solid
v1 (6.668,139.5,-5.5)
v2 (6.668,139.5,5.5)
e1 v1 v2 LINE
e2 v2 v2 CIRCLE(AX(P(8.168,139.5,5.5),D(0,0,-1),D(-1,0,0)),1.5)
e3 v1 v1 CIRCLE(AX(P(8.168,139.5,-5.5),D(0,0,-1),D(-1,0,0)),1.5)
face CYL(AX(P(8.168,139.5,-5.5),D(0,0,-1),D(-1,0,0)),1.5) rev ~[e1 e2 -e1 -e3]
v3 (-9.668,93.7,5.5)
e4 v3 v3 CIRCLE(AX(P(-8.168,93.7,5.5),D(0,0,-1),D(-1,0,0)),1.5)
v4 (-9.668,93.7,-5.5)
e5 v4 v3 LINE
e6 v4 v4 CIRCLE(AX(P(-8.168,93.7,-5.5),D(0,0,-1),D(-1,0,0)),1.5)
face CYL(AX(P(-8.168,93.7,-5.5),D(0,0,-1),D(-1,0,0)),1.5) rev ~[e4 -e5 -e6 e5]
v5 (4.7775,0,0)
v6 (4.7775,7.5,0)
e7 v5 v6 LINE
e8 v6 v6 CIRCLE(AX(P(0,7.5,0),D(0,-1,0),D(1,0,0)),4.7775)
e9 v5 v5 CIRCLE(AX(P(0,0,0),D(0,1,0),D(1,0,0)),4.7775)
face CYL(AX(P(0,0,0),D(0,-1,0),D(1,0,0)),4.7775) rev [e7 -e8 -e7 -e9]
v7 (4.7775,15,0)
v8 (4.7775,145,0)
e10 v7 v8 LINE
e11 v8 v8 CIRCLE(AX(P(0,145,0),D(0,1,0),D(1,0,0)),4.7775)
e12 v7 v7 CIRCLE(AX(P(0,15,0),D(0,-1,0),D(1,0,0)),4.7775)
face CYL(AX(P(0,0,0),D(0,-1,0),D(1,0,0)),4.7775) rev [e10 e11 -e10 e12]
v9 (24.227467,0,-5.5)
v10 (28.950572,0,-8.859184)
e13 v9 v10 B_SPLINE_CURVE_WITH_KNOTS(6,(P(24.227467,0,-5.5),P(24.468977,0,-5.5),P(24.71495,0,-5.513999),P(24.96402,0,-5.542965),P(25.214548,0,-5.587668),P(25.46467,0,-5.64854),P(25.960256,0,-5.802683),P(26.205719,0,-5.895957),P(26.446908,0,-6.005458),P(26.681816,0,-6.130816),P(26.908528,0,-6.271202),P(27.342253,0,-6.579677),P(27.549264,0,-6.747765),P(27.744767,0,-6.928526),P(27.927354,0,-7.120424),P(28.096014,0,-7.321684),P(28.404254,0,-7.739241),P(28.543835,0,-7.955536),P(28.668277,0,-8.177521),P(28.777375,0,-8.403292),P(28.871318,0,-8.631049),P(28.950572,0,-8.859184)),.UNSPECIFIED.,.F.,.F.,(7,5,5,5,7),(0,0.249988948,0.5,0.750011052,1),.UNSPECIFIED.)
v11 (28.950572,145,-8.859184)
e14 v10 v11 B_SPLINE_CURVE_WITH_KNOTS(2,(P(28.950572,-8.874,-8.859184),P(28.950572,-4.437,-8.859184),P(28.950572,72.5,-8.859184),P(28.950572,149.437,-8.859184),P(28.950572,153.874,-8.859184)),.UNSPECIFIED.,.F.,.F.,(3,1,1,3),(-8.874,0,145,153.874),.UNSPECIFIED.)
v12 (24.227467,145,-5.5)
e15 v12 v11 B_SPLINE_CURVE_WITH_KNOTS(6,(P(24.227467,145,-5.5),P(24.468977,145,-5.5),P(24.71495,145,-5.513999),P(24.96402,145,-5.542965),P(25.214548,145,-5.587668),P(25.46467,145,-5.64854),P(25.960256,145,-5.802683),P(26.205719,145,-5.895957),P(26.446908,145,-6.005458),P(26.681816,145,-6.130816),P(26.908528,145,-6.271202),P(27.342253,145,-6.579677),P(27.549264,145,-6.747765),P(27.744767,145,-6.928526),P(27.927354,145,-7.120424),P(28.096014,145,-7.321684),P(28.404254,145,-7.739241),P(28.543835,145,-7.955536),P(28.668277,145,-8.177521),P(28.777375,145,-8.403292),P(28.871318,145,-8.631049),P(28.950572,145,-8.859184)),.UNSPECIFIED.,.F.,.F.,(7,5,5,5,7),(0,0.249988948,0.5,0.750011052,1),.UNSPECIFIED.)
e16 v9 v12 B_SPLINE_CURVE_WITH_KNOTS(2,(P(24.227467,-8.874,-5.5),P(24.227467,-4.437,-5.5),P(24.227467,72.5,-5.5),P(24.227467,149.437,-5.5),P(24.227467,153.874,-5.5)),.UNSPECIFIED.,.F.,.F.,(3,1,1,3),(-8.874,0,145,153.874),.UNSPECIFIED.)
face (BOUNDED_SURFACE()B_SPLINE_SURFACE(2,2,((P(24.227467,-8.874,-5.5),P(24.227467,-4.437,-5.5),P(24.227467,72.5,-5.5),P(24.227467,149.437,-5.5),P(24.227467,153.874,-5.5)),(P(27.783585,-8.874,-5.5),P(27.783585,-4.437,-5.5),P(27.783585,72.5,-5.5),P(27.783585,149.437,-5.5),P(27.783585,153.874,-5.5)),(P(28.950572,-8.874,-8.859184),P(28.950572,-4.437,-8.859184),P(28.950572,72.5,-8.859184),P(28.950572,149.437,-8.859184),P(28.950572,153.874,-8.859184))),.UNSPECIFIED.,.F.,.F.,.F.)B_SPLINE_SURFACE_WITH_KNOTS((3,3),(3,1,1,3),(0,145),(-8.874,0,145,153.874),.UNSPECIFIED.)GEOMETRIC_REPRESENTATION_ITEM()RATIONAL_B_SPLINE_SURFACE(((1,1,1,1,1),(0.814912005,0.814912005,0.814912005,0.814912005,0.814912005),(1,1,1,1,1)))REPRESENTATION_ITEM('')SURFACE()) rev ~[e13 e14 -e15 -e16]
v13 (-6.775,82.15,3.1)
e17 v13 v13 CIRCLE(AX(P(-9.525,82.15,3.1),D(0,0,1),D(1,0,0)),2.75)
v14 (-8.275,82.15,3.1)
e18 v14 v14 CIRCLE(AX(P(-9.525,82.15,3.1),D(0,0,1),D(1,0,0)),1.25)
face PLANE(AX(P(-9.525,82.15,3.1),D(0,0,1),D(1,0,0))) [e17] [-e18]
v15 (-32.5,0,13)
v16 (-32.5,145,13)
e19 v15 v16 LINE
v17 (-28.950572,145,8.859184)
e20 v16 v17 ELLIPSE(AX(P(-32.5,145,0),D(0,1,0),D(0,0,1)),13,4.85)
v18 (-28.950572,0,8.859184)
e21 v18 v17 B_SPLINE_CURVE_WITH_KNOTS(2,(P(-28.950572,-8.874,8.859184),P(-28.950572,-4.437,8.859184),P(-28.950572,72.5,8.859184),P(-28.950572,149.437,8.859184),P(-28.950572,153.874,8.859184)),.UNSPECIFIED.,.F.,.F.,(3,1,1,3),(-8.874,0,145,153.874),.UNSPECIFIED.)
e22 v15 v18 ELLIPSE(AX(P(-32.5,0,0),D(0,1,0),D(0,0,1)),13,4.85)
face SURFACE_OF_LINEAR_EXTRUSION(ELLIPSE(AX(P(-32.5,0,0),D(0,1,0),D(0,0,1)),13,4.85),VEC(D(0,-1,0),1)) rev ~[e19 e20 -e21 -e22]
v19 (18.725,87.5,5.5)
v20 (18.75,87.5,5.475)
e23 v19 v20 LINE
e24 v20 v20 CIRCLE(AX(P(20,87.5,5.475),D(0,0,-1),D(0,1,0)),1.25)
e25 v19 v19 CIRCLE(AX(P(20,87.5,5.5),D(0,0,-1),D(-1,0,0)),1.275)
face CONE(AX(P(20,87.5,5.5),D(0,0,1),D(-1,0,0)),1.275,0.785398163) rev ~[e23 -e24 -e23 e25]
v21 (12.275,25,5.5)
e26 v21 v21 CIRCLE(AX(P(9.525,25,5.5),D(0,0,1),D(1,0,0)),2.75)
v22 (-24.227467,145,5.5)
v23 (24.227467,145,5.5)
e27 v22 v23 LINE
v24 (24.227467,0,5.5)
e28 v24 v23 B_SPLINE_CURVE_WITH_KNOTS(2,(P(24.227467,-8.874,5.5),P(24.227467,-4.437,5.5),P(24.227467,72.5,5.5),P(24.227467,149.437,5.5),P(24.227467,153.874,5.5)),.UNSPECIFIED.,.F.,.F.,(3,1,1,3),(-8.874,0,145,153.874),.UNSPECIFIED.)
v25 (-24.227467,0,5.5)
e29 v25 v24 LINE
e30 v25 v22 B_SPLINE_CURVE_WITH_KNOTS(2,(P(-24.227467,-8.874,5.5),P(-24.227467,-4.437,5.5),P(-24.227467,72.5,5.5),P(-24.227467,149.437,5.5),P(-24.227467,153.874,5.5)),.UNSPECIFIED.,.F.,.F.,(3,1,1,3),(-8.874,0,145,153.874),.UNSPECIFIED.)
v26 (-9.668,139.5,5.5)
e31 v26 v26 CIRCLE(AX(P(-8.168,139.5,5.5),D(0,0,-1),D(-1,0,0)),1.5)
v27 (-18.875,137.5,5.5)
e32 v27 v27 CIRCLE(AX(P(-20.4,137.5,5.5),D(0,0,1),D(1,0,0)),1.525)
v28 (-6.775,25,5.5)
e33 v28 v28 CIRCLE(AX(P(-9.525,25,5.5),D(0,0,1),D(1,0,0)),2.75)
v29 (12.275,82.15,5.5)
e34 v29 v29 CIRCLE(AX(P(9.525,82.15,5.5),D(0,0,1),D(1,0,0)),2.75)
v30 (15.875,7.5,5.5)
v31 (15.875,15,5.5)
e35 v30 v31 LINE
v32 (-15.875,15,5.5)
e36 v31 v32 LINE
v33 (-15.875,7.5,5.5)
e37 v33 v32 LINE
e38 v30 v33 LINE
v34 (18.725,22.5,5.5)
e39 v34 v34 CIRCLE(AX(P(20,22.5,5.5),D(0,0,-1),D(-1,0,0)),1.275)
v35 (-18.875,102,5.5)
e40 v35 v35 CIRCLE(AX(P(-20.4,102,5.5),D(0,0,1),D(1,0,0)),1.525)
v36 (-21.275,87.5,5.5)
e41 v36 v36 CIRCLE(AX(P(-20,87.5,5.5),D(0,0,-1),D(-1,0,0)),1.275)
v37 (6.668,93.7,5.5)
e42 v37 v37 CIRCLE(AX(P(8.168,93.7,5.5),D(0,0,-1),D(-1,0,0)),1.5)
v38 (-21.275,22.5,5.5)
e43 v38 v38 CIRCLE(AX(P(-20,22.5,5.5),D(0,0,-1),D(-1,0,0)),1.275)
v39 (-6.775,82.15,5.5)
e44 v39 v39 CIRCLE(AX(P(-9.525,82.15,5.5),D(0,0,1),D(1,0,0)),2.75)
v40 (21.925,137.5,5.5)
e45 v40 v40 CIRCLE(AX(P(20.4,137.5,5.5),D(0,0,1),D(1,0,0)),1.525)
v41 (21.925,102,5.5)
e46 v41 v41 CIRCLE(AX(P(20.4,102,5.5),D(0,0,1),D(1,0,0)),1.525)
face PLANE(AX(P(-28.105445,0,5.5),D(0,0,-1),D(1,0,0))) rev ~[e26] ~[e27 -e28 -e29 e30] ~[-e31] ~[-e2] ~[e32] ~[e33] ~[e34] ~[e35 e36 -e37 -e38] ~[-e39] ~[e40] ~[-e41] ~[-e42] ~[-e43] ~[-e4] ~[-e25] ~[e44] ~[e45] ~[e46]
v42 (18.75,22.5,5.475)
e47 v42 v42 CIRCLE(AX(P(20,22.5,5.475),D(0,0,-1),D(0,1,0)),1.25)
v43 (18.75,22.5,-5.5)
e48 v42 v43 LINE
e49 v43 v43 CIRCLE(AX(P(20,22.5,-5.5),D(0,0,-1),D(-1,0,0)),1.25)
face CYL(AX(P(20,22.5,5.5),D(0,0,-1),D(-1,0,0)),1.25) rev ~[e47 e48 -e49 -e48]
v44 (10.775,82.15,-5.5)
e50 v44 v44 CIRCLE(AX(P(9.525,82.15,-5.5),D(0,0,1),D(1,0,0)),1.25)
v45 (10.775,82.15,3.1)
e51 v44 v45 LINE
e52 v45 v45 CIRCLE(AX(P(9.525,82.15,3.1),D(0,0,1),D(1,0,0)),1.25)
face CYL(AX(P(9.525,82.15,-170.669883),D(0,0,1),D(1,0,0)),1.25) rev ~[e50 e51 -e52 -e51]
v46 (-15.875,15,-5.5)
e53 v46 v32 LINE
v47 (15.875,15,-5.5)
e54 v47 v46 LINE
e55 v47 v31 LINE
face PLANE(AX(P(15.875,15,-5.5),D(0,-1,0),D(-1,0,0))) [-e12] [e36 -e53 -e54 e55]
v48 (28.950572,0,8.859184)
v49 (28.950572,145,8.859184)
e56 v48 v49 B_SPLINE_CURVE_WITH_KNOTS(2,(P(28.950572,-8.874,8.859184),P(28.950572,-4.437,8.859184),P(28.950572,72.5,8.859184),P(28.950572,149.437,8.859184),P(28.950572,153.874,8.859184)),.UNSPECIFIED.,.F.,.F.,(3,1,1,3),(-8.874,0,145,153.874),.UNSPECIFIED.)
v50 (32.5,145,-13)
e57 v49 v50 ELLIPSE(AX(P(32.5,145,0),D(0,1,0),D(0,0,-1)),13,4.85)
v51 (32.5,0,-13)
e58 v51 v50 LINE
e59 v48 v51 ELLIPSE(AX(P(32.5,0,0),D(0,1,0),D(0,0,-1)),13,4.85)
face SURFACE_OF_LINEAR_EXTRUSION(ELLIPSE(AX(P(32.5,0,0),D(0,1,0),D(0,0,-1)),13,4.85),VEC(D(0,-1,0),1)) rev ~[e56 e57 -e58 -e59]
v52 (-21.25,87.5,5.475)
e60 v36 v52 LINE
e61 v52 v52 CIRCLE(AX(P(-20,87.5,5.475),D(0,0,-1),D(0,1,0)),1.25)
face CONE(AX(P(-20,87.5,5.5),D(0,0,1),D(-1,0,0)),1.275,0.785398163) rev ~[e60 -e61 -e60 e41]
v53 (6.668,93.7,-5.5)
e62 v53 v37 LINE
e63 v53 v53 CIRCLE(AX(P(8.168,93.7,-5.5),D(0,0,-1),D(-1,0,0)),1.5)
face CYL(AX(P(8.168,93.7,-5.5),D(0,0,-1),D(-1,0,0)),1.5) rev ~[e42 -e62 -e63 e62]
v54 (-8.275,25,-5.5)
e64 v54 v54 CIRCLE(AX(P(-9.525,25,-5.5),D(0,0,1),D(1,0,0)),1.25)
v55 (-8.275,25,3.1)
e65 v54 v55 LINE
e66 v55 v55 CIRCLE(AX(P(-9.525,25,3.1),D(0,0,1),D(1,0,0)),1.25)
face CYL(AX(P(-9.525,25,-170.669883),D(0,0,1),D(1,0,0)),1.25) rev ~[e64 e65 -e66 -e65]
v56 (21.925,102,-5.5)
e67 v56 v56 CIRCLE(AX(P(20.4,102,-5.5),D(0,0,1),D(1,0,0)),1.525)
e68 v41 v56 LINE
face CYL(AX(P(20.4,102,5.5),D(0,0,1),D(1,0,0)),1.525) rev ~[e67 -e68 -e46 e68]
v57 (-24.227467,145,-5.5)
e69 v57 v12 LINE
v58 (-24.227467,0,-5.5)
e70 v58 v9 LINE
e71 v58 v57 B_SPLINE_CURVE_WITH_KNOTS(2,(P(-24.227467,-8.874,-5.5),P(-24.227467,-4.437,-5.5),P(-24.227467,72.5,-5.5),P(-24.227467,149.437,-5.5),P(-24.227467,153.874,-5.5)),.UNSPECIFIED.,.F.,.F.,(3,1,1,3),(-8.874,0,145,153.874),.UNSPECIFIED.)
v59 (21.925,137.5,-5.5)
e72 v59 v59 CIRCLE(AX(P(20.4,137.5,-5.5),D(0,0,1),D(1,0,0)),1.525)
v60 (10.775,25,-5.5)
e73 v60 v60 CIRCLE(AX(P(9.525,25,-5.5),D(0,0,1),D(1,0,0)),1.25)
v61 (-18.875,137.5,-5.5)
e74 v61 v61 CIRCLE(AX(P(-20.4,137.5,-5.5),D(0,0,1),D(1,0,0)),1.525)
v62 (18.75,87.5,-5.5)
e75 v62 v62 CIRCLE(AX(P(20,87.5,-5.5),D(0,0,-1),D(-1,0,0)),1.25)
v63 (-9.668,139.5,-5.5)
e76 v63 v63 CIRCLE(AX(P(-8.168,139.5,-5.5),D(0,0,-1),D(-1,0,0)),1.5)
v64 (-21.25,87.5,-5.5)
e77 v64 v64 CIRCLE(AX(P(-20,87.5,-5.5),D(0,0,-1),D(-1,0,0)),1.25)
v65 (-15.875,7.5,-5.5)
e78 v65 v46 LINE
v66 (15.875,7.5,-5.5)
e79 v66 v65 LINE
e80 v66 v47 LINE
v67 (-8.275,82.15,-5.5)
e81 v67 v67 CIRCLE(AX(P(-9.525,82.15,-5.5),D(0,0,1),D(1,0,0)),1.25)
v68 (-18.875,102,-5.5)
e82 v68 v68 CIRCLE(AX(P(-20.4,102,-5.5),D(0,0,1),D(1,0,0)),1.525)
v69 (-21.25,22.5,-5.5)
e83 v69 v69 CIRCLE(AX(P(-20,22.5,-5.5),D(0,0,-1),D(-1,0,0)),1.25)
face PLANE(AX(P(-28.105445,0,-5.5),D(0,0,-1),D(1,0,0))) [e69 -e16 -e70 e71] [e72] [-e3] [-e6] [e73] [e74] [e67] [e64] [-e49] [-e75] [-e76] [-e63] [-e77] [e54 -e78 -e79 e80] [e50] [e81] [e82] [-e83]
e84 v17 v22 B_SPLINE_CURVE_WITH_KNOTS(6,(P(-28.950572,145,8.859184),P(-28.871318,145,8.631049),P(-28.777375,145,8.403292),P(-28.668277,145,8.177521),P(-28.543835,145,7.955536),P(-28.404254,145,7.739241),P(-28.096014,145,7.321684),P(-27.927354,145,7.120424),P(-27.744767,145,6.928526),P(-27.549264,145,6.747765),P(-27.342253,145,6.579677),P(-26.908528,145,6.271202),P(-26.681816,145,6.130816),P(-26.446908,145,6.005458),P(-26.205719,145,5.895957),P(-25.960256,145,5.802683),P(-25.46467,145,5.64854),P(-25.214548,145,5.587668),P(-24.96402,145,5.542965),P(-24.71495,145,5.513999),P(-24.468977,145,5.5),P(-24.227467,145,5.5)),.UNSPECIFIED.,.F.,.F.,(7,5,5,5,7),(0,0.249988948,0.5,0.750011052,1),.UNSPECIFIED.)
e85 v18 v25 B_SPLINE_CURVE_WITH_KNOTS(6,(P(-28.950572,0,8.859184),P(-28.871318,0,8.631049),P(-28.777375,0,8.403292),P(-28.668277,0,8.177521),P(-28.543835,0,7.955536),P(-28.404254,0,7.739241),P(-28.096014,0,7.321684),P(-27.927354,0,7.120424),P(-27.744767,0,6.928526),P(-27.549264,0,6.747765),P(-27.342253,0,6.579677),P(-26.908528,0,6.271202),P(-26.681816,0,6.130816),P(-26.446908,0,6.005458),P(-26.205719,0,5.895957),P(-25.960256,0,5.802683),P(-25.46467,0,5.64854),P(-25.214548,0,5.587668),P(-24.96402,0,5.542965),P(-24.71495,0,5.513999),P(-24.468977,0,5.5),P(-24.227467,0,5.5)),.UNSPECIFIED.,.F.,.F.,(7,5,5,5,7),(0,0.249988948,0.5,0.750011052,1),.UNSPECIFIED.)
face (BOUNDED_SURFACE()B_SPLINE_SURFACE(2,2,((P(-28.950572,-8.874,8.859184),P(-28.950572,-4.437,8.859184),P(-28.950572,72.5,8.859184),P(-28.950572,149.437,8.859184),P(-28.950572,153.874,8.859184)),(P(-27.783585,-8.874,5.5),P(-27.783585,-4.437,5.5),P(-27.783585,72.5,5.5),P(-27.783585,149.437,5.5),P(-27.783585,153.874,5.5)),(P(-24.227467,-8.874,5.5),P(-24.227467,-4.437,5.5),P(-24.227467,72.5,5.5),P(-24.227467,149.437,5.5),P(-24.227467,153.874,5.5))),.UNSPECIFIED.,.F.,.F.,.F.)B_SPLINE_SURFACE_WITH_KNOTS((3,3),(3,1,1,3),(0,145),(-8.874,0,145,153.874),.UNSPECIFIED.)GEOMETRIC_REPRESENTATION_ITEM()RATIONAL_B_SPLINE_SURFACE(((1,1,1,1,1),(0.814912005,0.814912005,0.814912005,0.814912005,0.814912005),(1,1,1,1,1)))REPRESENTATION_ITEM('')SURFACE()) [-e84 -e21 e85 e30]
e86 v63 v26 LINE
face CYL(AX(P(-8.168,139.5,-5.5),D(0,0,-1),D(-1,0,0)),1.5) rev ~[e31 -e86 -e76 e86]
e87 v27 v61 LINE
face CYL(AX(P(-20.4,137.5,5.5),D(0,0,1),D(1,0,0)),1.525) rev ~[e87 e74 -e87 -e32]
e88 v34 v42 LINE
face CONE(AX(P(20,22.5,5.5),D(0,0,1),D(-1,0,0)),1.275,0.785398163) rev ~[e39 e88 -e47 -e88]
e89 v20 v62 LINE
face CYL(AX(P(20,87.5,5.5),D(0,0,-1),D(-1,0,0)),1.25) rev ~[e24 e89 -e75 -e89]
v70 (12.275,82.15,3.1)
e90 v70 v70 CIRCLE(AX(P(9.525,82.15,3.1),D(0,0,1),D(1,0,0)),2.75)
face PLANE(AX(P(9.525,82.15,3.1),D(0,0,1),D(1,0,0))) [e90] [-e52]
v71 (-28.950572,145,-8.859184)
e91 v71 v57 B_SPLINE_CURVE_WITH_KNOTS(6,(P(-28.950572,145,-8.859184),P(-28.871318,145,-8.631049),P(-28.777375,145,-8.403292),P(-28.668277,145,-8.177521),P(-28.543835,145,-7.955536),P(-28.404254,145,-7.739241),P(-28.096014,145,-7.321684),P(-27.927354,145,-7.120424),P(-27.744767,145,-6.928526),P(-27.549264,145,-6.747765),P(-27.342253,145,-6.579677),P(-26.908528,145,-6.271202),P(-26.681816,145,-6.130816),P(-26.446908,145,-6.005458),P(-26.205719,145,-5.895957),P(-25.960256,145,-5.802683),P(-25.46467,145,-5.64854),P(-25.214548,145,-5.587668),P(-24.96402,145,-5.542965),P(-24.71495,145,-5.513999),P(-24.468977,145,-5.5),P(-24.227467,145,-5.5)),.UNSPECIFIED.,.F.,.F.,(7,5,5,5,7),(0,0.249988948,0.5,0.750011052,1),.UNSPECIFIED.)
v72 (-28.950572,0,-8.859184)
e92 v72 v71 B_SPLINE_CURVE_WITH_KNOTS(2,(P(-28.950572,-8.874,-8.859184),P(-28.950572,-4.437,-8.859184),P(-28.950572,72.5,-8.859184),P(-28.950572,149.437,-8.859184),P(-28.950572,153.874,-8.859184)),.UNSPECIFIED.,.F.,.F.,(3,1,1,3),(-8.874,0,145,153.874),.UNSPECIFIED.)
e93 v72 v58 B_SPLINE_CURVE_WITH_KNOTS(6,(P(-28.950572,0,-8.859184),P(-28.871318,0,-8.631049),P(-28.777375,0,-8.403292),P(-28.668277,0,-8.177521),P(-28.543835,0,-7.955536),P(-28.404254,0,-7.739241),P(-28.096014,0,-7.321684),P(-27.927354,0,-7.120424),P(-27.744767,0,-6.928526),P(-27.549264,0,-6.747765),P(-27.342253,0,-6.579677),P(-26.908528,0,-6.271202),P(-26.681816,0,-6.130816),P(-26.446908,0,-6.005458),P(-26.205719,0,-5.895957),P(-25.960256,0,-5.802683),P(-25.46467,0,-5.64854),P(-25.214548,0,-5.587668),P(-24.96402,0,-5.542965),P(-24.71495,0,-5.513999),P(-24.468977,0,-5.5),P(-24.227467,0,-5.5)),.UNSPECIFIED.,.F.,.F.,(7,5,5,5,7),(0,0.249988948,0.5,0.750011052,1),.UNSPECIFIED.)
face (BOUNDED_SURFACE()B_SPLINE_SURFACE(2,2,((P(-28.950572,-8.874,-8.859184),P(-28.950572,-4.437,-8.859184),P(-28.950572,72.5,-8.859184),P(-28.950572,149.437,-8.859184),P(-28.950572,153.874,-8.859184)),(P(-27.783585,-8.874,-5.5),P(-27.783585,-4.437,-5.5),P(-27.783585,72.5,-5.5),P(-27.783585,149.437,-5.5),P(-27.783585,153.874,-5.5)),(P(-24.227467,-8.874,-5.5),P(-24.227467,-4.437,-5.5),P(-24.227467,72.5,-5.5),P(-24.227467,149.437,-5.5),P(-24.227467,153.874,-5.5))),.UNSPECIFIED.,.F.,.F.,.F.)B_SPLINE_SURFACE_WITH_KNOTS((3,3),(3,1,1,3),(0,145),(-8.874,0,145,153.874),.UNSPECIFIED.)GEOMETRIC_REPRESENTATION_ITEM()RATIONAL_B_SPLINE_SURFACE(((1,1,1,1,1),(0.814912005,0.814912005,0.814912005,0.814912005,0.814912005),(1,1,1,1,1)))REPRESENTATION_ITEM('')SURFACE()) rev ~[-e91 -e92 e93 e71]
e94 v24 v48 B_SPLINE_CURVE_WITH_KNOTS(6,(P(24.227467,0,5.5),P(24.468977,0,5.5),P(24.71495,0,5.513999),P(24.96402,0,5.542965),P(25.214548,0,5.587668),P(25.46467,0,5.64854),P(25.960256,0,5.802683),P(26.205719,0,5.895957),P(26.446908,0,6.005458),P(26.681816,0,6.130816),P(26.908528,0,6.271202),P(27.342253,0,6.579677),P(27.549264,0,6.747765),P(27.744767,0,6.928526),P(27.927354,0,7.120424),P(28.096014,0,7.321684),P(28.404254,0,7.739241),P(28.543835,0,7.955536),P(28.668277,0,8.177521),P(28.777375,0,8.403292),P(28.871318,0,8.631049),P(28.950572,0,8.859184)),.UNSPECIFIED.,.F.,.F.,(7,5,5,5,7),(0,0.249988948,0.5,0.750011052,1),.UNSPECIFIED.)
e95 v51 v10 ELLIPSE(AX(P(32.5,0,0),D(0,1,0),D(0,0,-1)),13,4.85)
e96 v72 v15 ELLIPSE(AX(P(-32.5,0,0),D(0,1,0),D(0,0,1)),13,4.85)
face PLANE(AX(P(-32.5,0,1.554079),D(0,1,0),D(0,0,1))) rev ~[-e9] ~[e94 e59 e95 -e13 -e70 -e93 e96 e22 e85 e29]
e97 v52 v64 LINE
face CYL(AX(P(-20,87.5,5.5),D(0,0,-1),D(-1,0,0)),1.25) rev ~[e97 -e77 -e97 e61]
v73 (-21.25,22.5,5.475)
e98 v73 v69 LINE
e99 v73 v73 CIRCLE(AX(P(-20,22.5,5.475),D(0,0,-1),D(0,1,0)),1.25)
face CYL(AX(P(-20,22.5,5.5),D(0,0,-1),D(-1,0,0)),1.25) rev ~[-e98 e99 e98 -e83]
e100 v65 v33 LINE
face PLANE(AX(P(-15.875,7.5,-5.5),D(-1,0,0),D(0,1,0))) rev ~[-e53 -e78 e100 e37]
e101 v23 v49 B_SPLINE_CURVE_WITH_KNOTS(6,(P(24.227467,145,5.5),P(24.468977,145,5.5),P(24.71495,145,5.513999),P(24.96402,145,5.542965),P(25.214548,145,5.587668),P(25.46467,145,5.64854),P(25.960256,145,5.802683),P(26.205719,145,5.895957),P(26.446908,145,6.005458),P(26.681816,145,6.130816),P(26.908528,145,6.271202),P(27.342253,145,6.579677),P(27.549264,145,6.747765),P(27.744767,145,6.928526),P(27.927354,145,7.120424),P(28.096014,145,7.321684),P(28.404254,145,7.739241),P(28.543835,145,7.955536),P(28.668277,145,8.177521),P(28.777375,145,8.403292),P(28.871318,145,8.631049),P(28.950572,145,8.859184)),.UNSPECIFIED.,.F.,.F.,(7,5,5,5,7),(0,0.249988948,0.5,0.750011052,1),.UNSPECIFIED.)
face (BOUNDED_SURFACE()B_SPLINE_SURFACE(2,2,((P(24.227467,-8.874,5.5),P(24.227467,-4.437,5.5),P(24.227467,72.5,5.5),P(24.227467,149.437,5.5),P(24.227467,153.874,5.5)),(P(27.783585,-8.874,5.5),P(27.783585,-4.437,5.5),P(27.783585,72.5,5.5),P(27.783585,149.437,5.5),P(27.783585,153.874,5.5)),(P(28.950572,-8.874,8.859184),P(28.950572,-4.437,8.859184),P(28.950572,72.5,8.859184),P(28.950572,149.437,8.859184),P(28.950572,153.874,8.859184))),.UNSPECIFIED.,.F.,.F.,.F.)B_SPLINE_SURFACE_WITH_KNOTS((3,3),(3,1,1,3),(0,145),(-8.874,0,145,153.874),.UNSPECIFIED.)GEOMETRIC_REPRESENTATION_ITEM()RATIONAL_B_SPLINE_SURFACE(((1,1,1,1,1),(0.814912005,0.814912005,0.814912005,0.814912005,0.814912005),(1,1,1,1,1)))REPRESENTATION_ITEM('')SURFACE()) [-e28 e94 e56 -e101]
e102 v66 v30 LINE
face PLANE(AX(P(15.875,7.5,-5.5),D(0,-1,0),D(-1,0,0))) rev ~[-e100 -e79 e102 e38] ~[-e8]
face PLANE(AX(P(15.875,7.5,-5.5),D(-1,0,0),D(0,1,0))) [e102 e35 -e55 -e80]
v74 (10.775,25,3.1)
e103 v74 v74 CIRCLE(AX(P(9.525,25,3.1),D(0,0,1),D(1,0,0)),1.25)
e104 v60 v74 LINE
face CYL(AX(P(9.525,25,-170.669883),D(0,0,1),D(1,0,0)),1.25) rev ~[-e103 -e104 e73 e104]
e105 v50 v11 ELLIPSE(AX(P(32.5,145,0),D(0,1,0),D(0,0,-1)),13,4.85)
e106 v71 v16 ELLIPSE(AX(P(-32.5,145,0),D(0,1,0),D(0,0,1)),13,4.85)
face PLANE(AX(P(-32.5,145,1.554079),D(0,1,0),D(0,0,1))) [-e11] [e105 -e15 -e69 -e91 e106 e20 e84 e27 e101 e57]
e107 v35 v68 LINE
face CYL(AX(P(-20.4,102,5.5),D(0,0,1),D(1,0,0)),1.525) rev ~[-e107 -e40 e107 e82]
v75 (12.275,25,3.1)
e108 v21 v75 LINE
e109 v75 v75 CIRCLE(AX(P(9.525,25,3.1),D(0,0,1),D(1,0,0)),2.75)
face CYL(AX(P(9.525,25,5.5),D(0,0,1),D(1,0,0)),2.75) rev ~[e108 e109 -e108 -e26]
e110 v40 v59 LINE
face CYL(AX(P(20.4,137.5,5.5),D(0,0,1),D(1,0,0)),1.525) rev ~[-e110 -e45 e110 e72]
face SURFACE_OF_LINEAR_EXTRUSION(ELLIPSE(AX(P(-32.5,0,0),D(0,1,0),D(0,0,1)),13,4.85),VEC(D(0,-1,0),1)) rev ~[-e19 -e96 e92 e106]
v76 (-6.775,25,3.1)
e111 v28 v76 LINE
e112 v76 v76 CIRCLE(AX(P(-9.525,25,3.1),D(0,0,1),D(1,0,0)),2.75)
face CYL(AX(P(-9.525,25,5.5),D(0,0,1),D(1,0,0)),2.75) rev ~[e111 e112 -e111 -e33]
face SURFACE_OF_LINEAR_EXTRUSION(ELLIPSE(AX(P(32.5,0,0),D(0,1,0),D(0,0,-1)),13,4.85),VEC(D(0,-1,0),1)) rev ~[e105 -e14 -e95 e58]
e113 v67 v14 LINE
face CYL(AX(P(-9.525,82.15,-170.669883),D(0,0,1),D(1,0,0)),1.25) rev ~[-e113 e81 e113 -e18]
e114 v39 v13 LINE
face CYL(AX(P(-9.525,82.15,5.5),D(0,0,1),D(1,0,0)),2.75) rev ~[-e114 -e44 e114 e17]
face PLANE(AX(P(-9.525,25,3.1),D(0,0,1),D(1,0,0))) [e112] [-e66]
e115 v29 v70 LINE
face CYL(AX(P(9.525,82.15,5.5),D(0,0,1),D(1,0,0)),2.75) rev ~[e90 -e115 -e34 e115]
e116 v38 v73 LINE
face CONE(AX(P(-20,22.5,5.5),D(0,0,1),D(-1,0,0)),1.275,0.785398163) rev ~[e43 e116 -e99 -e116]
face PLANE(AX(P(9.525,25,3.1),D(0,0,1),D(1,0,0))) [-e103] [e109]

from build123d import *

# Parameters (mm, degrees)
SKETCH1_RX                        = 13
SKETCH1_RY                        = 4.85
SKETCH1_W                         = 65
SKETCH1_H                         = 11
SKETCH1_R                         = 4.7775
BOSS_EXTRUDE1_DEPTH               = 145
FILLET1_R                         = 5
SKETCH3_W                         = 31.75
SKETCH3_H                         = 7.5
CUT_EXTRUDE2_DEPTH                = 8.5000001
CUT_EXTRUDE2_DEPTH_BACK           = 19.5000001
TAP_DRILL_FOR_M3X0_5_TAP1_D       = 2.5
SKETCH6_R                         = 2.75
CUT_EXTRUDE4_DEPTH                = 2.4
TAP_DRILL_FOR_M3_TAP1_D           = 2.5
TAP_DRILL_FOR_M3_TAP1_CSINK_D     = 2.55
TAP_DRILL_FOR_M3_TAP1_CSINK_ANGLE = 90
SKETCH9_R                         = 1.5
CUT_EXTRUDE5_DEPTH                = 19.5000001
CUT_EXTRUDE6_REACH                = 20.5
SKETCH5_R                         = 1.525


with BuildPart() as part:
    # Sketch1 → Boss-Extrude1 (new body)
    with BuildSketch(Plane(origin=(0, 0, 0), x_dir=(1, 0, 0), z_dir=(0, 1, 0))):
        with Locations(Location((-32.5, 0), (0, 0, -90))):
            Ellipse(SKETCH1_RX, SKETCH1_RY)
        with Locations(Location((32.5, 0), (0, 0, 90))):
            Ellipse(SKETCH1_RX, SKETCH1_RY)
        Rectangle(SKETCH1_W, SKETCH1_H)
        Circle(SKETCH1_R, mode=Mode.SUBTRACT)
    extrude(amount=BOSS_EXTRUDE1_DEPTH)

    # Fillet1
    fillet1_edges = [part.edges().sort_by_distance(p)[0] for p in [
        (-28.105445223, 72.5, -5.5),
        (28.105445223, 72.5, -5.5),
        (28.105445223, 72.5, 5.5),
        (-28.105445223, 72.5, 5.5),
    ]]
    fillet(fillet1_edges, radius=FILLET1_R)

    # Sketch3 → Cut-Extrude2 (cut, two sides)
    with BuildSketch(Plane(origin=(0, 0, -5.5), x_dir=(-1, 0, 0), z_dir=(0, 0, -1))) as cut_extrude2_sk:
        with Locations((0, 11.25)):
            Rectangle(SKETCH3_W, SKETCH3_H)
    extrude(amount=CUT_EXTRUDE2_DEPTH, mode=Mode.SUBTRACT)
    extrude(cut_extrude2_sk.sketch, amount=-CUT_EXTRUDE2_DEPTH_BACK, mode=Mode.SUBTRACT)

    # Tap Drill for M3x0.5 Tap1 (through all)
    with Locations(Plane(origin=(9.525, 82.15, -5.5), x_dir=(-1, 0, 0), z_dir=(0, 0, -1))):
        with Locations((0, 0), (19.05, 0), (19.05, -57.15), (0, -57.15)):
            Hole(TAP_DRILL_FOR_M3X0_5_TAP1_D / 2)

    # Sketch6 → Cut-Extrude4 (cut)
    with BuildSketch(Plane.XY.offset(5.5)):
        with Locations((9.525, 82.15)):
            Circle(SKETCH6_R)
        with Locations((-9.525, 82.15)):
            Circle(SKETCH6_R)
        with Locations((9.525, 25)):
            Circle(SKETCH6_R)
        with Locations((-9.525, 25)):
            Circle(SKETCH6_R)
    extrude(amount=-CUT_EXTRUDE4_DEPTH, mode=Mode.SUBTRACT)

    # Tap Drill for M3 Tap1 (through all)
    with Locations(Plane.XY.offset(5.5)):
        with Locations((-20, 87.5), (20, 87.5), (20, 22.5), (-20, 22.5)):
            CounterSinkHole(TAP_DRILL_FOR_M3_TAP1_D / 2, TAP_DRILL_FOR_M3_TAP1_CSINK_D / 2, counter_sink_angle=TAP_DRILL_FOR_M3_TAP1_CSINK_ANGLE)

    # Sketch9 → Cut-Extrude5 (cut, through all)
    with BuildSketch(Plane(origin=(0, 0, -5.5), x_dir=(-1, 0, 0), z_dir=(0, 0, -1))):
        with Locations((-8.168, 139.5)):
            Circle(SKETCH9_R)
        with Locations((8.168, 139.5)):
            Circle(SKETCH9_R)
        with Locations((8.168, 93.7)):
            Circle(SKETCH9_R)
        with Locations((-8.168, 93.7)):
            Circle(SKETCH9_R)
    extrude(amount=-CUT_EXTRUDE5_DEPTH, mode=Mode.SUBTRACT)

    # Sketch5 → Cut-Extrude6 (cut, up to next)
    with BuildSketch(Plane.XY.offset(5.5), mode=Mode.PRIVATE) as cut_extrude6_sk1:
        with Locations((20.4, 102)):
            Circle(SKETCH5_R)
    cut_extrude6_tool1 = extrude(cut_extrude6_sk1.sketch, amount=-CUT_EXTRUDE6_REACH, mode=Mode.PRIVATE) & part.part
    add(cut_extrude6_tool1.solids().sort_by_distance((20.4, 102, 5.5))[0], mode=Mode.SUBTRACT)
    # Sketch5 → Cut-Extrude6 (cut, up to next)
    with BuildSketch(Plane.XY.offset(5.5), mode=Mode.PRIVATE) as cut_extrude6_sk2:
        with Locations((-20.4, 102)):
            Circle(SKETCH5_R)
    cut_extrude6_tool2 = extrude(cut_extrude6_sk2.sketch, amount=-CUT_EXTRUDE6_REACH, mode=Mode.PRIVATE) & part.part
    add(cut_extrude6_tool2.solids().sort_by_distance((-20.4, 102, 5.5))[0], mode=Mode.SUBTRACT)
    # Sketch5 → Cut-Extrude6 (cut, up to next)
    with BuildSketch(Plane.XY.offset(5.5), mode=Mode.PRIVATE) as cut_extrude6_sk3:
        with Locations((20.4, 137.5)):
            Circle(SKETCH5_R)
    cut_extrude6_tool3 = extrude(cut_extrude6_sk3.sketch, amount=-CUT_EXTRUDE6_REACH, mode=Mode.PRIVATE) & part.part
    add(cut_extrude6_tool3.solids().sort_by_distance((20.4, 137.5, 5.5))[0], mode=Mode.SUBTRACT)
    # Sketch5 → Cut-Extrude6 (cut, up to next)
    with BuildSketch(Plane.XY.offset(5.5), mode=Mode.PRIVATE) as cut_extrude6_sk4:
        with Locations((-20.4, 137.5)):
            Circle(SKETCH5_R)
    cut_extrude6_tool4 = extrude(cut_extrude6_sk4.sketch, amount=-CUT_EXTRUDE6_REACH, mode=Mode.PRIVATE) & part.part
    add(cut_extrude6_tool4.solids().sort_by_distance((-20.4, 137.5, 5.5))[0], mode=Mode.SUBTRACT)


solid = part.part
